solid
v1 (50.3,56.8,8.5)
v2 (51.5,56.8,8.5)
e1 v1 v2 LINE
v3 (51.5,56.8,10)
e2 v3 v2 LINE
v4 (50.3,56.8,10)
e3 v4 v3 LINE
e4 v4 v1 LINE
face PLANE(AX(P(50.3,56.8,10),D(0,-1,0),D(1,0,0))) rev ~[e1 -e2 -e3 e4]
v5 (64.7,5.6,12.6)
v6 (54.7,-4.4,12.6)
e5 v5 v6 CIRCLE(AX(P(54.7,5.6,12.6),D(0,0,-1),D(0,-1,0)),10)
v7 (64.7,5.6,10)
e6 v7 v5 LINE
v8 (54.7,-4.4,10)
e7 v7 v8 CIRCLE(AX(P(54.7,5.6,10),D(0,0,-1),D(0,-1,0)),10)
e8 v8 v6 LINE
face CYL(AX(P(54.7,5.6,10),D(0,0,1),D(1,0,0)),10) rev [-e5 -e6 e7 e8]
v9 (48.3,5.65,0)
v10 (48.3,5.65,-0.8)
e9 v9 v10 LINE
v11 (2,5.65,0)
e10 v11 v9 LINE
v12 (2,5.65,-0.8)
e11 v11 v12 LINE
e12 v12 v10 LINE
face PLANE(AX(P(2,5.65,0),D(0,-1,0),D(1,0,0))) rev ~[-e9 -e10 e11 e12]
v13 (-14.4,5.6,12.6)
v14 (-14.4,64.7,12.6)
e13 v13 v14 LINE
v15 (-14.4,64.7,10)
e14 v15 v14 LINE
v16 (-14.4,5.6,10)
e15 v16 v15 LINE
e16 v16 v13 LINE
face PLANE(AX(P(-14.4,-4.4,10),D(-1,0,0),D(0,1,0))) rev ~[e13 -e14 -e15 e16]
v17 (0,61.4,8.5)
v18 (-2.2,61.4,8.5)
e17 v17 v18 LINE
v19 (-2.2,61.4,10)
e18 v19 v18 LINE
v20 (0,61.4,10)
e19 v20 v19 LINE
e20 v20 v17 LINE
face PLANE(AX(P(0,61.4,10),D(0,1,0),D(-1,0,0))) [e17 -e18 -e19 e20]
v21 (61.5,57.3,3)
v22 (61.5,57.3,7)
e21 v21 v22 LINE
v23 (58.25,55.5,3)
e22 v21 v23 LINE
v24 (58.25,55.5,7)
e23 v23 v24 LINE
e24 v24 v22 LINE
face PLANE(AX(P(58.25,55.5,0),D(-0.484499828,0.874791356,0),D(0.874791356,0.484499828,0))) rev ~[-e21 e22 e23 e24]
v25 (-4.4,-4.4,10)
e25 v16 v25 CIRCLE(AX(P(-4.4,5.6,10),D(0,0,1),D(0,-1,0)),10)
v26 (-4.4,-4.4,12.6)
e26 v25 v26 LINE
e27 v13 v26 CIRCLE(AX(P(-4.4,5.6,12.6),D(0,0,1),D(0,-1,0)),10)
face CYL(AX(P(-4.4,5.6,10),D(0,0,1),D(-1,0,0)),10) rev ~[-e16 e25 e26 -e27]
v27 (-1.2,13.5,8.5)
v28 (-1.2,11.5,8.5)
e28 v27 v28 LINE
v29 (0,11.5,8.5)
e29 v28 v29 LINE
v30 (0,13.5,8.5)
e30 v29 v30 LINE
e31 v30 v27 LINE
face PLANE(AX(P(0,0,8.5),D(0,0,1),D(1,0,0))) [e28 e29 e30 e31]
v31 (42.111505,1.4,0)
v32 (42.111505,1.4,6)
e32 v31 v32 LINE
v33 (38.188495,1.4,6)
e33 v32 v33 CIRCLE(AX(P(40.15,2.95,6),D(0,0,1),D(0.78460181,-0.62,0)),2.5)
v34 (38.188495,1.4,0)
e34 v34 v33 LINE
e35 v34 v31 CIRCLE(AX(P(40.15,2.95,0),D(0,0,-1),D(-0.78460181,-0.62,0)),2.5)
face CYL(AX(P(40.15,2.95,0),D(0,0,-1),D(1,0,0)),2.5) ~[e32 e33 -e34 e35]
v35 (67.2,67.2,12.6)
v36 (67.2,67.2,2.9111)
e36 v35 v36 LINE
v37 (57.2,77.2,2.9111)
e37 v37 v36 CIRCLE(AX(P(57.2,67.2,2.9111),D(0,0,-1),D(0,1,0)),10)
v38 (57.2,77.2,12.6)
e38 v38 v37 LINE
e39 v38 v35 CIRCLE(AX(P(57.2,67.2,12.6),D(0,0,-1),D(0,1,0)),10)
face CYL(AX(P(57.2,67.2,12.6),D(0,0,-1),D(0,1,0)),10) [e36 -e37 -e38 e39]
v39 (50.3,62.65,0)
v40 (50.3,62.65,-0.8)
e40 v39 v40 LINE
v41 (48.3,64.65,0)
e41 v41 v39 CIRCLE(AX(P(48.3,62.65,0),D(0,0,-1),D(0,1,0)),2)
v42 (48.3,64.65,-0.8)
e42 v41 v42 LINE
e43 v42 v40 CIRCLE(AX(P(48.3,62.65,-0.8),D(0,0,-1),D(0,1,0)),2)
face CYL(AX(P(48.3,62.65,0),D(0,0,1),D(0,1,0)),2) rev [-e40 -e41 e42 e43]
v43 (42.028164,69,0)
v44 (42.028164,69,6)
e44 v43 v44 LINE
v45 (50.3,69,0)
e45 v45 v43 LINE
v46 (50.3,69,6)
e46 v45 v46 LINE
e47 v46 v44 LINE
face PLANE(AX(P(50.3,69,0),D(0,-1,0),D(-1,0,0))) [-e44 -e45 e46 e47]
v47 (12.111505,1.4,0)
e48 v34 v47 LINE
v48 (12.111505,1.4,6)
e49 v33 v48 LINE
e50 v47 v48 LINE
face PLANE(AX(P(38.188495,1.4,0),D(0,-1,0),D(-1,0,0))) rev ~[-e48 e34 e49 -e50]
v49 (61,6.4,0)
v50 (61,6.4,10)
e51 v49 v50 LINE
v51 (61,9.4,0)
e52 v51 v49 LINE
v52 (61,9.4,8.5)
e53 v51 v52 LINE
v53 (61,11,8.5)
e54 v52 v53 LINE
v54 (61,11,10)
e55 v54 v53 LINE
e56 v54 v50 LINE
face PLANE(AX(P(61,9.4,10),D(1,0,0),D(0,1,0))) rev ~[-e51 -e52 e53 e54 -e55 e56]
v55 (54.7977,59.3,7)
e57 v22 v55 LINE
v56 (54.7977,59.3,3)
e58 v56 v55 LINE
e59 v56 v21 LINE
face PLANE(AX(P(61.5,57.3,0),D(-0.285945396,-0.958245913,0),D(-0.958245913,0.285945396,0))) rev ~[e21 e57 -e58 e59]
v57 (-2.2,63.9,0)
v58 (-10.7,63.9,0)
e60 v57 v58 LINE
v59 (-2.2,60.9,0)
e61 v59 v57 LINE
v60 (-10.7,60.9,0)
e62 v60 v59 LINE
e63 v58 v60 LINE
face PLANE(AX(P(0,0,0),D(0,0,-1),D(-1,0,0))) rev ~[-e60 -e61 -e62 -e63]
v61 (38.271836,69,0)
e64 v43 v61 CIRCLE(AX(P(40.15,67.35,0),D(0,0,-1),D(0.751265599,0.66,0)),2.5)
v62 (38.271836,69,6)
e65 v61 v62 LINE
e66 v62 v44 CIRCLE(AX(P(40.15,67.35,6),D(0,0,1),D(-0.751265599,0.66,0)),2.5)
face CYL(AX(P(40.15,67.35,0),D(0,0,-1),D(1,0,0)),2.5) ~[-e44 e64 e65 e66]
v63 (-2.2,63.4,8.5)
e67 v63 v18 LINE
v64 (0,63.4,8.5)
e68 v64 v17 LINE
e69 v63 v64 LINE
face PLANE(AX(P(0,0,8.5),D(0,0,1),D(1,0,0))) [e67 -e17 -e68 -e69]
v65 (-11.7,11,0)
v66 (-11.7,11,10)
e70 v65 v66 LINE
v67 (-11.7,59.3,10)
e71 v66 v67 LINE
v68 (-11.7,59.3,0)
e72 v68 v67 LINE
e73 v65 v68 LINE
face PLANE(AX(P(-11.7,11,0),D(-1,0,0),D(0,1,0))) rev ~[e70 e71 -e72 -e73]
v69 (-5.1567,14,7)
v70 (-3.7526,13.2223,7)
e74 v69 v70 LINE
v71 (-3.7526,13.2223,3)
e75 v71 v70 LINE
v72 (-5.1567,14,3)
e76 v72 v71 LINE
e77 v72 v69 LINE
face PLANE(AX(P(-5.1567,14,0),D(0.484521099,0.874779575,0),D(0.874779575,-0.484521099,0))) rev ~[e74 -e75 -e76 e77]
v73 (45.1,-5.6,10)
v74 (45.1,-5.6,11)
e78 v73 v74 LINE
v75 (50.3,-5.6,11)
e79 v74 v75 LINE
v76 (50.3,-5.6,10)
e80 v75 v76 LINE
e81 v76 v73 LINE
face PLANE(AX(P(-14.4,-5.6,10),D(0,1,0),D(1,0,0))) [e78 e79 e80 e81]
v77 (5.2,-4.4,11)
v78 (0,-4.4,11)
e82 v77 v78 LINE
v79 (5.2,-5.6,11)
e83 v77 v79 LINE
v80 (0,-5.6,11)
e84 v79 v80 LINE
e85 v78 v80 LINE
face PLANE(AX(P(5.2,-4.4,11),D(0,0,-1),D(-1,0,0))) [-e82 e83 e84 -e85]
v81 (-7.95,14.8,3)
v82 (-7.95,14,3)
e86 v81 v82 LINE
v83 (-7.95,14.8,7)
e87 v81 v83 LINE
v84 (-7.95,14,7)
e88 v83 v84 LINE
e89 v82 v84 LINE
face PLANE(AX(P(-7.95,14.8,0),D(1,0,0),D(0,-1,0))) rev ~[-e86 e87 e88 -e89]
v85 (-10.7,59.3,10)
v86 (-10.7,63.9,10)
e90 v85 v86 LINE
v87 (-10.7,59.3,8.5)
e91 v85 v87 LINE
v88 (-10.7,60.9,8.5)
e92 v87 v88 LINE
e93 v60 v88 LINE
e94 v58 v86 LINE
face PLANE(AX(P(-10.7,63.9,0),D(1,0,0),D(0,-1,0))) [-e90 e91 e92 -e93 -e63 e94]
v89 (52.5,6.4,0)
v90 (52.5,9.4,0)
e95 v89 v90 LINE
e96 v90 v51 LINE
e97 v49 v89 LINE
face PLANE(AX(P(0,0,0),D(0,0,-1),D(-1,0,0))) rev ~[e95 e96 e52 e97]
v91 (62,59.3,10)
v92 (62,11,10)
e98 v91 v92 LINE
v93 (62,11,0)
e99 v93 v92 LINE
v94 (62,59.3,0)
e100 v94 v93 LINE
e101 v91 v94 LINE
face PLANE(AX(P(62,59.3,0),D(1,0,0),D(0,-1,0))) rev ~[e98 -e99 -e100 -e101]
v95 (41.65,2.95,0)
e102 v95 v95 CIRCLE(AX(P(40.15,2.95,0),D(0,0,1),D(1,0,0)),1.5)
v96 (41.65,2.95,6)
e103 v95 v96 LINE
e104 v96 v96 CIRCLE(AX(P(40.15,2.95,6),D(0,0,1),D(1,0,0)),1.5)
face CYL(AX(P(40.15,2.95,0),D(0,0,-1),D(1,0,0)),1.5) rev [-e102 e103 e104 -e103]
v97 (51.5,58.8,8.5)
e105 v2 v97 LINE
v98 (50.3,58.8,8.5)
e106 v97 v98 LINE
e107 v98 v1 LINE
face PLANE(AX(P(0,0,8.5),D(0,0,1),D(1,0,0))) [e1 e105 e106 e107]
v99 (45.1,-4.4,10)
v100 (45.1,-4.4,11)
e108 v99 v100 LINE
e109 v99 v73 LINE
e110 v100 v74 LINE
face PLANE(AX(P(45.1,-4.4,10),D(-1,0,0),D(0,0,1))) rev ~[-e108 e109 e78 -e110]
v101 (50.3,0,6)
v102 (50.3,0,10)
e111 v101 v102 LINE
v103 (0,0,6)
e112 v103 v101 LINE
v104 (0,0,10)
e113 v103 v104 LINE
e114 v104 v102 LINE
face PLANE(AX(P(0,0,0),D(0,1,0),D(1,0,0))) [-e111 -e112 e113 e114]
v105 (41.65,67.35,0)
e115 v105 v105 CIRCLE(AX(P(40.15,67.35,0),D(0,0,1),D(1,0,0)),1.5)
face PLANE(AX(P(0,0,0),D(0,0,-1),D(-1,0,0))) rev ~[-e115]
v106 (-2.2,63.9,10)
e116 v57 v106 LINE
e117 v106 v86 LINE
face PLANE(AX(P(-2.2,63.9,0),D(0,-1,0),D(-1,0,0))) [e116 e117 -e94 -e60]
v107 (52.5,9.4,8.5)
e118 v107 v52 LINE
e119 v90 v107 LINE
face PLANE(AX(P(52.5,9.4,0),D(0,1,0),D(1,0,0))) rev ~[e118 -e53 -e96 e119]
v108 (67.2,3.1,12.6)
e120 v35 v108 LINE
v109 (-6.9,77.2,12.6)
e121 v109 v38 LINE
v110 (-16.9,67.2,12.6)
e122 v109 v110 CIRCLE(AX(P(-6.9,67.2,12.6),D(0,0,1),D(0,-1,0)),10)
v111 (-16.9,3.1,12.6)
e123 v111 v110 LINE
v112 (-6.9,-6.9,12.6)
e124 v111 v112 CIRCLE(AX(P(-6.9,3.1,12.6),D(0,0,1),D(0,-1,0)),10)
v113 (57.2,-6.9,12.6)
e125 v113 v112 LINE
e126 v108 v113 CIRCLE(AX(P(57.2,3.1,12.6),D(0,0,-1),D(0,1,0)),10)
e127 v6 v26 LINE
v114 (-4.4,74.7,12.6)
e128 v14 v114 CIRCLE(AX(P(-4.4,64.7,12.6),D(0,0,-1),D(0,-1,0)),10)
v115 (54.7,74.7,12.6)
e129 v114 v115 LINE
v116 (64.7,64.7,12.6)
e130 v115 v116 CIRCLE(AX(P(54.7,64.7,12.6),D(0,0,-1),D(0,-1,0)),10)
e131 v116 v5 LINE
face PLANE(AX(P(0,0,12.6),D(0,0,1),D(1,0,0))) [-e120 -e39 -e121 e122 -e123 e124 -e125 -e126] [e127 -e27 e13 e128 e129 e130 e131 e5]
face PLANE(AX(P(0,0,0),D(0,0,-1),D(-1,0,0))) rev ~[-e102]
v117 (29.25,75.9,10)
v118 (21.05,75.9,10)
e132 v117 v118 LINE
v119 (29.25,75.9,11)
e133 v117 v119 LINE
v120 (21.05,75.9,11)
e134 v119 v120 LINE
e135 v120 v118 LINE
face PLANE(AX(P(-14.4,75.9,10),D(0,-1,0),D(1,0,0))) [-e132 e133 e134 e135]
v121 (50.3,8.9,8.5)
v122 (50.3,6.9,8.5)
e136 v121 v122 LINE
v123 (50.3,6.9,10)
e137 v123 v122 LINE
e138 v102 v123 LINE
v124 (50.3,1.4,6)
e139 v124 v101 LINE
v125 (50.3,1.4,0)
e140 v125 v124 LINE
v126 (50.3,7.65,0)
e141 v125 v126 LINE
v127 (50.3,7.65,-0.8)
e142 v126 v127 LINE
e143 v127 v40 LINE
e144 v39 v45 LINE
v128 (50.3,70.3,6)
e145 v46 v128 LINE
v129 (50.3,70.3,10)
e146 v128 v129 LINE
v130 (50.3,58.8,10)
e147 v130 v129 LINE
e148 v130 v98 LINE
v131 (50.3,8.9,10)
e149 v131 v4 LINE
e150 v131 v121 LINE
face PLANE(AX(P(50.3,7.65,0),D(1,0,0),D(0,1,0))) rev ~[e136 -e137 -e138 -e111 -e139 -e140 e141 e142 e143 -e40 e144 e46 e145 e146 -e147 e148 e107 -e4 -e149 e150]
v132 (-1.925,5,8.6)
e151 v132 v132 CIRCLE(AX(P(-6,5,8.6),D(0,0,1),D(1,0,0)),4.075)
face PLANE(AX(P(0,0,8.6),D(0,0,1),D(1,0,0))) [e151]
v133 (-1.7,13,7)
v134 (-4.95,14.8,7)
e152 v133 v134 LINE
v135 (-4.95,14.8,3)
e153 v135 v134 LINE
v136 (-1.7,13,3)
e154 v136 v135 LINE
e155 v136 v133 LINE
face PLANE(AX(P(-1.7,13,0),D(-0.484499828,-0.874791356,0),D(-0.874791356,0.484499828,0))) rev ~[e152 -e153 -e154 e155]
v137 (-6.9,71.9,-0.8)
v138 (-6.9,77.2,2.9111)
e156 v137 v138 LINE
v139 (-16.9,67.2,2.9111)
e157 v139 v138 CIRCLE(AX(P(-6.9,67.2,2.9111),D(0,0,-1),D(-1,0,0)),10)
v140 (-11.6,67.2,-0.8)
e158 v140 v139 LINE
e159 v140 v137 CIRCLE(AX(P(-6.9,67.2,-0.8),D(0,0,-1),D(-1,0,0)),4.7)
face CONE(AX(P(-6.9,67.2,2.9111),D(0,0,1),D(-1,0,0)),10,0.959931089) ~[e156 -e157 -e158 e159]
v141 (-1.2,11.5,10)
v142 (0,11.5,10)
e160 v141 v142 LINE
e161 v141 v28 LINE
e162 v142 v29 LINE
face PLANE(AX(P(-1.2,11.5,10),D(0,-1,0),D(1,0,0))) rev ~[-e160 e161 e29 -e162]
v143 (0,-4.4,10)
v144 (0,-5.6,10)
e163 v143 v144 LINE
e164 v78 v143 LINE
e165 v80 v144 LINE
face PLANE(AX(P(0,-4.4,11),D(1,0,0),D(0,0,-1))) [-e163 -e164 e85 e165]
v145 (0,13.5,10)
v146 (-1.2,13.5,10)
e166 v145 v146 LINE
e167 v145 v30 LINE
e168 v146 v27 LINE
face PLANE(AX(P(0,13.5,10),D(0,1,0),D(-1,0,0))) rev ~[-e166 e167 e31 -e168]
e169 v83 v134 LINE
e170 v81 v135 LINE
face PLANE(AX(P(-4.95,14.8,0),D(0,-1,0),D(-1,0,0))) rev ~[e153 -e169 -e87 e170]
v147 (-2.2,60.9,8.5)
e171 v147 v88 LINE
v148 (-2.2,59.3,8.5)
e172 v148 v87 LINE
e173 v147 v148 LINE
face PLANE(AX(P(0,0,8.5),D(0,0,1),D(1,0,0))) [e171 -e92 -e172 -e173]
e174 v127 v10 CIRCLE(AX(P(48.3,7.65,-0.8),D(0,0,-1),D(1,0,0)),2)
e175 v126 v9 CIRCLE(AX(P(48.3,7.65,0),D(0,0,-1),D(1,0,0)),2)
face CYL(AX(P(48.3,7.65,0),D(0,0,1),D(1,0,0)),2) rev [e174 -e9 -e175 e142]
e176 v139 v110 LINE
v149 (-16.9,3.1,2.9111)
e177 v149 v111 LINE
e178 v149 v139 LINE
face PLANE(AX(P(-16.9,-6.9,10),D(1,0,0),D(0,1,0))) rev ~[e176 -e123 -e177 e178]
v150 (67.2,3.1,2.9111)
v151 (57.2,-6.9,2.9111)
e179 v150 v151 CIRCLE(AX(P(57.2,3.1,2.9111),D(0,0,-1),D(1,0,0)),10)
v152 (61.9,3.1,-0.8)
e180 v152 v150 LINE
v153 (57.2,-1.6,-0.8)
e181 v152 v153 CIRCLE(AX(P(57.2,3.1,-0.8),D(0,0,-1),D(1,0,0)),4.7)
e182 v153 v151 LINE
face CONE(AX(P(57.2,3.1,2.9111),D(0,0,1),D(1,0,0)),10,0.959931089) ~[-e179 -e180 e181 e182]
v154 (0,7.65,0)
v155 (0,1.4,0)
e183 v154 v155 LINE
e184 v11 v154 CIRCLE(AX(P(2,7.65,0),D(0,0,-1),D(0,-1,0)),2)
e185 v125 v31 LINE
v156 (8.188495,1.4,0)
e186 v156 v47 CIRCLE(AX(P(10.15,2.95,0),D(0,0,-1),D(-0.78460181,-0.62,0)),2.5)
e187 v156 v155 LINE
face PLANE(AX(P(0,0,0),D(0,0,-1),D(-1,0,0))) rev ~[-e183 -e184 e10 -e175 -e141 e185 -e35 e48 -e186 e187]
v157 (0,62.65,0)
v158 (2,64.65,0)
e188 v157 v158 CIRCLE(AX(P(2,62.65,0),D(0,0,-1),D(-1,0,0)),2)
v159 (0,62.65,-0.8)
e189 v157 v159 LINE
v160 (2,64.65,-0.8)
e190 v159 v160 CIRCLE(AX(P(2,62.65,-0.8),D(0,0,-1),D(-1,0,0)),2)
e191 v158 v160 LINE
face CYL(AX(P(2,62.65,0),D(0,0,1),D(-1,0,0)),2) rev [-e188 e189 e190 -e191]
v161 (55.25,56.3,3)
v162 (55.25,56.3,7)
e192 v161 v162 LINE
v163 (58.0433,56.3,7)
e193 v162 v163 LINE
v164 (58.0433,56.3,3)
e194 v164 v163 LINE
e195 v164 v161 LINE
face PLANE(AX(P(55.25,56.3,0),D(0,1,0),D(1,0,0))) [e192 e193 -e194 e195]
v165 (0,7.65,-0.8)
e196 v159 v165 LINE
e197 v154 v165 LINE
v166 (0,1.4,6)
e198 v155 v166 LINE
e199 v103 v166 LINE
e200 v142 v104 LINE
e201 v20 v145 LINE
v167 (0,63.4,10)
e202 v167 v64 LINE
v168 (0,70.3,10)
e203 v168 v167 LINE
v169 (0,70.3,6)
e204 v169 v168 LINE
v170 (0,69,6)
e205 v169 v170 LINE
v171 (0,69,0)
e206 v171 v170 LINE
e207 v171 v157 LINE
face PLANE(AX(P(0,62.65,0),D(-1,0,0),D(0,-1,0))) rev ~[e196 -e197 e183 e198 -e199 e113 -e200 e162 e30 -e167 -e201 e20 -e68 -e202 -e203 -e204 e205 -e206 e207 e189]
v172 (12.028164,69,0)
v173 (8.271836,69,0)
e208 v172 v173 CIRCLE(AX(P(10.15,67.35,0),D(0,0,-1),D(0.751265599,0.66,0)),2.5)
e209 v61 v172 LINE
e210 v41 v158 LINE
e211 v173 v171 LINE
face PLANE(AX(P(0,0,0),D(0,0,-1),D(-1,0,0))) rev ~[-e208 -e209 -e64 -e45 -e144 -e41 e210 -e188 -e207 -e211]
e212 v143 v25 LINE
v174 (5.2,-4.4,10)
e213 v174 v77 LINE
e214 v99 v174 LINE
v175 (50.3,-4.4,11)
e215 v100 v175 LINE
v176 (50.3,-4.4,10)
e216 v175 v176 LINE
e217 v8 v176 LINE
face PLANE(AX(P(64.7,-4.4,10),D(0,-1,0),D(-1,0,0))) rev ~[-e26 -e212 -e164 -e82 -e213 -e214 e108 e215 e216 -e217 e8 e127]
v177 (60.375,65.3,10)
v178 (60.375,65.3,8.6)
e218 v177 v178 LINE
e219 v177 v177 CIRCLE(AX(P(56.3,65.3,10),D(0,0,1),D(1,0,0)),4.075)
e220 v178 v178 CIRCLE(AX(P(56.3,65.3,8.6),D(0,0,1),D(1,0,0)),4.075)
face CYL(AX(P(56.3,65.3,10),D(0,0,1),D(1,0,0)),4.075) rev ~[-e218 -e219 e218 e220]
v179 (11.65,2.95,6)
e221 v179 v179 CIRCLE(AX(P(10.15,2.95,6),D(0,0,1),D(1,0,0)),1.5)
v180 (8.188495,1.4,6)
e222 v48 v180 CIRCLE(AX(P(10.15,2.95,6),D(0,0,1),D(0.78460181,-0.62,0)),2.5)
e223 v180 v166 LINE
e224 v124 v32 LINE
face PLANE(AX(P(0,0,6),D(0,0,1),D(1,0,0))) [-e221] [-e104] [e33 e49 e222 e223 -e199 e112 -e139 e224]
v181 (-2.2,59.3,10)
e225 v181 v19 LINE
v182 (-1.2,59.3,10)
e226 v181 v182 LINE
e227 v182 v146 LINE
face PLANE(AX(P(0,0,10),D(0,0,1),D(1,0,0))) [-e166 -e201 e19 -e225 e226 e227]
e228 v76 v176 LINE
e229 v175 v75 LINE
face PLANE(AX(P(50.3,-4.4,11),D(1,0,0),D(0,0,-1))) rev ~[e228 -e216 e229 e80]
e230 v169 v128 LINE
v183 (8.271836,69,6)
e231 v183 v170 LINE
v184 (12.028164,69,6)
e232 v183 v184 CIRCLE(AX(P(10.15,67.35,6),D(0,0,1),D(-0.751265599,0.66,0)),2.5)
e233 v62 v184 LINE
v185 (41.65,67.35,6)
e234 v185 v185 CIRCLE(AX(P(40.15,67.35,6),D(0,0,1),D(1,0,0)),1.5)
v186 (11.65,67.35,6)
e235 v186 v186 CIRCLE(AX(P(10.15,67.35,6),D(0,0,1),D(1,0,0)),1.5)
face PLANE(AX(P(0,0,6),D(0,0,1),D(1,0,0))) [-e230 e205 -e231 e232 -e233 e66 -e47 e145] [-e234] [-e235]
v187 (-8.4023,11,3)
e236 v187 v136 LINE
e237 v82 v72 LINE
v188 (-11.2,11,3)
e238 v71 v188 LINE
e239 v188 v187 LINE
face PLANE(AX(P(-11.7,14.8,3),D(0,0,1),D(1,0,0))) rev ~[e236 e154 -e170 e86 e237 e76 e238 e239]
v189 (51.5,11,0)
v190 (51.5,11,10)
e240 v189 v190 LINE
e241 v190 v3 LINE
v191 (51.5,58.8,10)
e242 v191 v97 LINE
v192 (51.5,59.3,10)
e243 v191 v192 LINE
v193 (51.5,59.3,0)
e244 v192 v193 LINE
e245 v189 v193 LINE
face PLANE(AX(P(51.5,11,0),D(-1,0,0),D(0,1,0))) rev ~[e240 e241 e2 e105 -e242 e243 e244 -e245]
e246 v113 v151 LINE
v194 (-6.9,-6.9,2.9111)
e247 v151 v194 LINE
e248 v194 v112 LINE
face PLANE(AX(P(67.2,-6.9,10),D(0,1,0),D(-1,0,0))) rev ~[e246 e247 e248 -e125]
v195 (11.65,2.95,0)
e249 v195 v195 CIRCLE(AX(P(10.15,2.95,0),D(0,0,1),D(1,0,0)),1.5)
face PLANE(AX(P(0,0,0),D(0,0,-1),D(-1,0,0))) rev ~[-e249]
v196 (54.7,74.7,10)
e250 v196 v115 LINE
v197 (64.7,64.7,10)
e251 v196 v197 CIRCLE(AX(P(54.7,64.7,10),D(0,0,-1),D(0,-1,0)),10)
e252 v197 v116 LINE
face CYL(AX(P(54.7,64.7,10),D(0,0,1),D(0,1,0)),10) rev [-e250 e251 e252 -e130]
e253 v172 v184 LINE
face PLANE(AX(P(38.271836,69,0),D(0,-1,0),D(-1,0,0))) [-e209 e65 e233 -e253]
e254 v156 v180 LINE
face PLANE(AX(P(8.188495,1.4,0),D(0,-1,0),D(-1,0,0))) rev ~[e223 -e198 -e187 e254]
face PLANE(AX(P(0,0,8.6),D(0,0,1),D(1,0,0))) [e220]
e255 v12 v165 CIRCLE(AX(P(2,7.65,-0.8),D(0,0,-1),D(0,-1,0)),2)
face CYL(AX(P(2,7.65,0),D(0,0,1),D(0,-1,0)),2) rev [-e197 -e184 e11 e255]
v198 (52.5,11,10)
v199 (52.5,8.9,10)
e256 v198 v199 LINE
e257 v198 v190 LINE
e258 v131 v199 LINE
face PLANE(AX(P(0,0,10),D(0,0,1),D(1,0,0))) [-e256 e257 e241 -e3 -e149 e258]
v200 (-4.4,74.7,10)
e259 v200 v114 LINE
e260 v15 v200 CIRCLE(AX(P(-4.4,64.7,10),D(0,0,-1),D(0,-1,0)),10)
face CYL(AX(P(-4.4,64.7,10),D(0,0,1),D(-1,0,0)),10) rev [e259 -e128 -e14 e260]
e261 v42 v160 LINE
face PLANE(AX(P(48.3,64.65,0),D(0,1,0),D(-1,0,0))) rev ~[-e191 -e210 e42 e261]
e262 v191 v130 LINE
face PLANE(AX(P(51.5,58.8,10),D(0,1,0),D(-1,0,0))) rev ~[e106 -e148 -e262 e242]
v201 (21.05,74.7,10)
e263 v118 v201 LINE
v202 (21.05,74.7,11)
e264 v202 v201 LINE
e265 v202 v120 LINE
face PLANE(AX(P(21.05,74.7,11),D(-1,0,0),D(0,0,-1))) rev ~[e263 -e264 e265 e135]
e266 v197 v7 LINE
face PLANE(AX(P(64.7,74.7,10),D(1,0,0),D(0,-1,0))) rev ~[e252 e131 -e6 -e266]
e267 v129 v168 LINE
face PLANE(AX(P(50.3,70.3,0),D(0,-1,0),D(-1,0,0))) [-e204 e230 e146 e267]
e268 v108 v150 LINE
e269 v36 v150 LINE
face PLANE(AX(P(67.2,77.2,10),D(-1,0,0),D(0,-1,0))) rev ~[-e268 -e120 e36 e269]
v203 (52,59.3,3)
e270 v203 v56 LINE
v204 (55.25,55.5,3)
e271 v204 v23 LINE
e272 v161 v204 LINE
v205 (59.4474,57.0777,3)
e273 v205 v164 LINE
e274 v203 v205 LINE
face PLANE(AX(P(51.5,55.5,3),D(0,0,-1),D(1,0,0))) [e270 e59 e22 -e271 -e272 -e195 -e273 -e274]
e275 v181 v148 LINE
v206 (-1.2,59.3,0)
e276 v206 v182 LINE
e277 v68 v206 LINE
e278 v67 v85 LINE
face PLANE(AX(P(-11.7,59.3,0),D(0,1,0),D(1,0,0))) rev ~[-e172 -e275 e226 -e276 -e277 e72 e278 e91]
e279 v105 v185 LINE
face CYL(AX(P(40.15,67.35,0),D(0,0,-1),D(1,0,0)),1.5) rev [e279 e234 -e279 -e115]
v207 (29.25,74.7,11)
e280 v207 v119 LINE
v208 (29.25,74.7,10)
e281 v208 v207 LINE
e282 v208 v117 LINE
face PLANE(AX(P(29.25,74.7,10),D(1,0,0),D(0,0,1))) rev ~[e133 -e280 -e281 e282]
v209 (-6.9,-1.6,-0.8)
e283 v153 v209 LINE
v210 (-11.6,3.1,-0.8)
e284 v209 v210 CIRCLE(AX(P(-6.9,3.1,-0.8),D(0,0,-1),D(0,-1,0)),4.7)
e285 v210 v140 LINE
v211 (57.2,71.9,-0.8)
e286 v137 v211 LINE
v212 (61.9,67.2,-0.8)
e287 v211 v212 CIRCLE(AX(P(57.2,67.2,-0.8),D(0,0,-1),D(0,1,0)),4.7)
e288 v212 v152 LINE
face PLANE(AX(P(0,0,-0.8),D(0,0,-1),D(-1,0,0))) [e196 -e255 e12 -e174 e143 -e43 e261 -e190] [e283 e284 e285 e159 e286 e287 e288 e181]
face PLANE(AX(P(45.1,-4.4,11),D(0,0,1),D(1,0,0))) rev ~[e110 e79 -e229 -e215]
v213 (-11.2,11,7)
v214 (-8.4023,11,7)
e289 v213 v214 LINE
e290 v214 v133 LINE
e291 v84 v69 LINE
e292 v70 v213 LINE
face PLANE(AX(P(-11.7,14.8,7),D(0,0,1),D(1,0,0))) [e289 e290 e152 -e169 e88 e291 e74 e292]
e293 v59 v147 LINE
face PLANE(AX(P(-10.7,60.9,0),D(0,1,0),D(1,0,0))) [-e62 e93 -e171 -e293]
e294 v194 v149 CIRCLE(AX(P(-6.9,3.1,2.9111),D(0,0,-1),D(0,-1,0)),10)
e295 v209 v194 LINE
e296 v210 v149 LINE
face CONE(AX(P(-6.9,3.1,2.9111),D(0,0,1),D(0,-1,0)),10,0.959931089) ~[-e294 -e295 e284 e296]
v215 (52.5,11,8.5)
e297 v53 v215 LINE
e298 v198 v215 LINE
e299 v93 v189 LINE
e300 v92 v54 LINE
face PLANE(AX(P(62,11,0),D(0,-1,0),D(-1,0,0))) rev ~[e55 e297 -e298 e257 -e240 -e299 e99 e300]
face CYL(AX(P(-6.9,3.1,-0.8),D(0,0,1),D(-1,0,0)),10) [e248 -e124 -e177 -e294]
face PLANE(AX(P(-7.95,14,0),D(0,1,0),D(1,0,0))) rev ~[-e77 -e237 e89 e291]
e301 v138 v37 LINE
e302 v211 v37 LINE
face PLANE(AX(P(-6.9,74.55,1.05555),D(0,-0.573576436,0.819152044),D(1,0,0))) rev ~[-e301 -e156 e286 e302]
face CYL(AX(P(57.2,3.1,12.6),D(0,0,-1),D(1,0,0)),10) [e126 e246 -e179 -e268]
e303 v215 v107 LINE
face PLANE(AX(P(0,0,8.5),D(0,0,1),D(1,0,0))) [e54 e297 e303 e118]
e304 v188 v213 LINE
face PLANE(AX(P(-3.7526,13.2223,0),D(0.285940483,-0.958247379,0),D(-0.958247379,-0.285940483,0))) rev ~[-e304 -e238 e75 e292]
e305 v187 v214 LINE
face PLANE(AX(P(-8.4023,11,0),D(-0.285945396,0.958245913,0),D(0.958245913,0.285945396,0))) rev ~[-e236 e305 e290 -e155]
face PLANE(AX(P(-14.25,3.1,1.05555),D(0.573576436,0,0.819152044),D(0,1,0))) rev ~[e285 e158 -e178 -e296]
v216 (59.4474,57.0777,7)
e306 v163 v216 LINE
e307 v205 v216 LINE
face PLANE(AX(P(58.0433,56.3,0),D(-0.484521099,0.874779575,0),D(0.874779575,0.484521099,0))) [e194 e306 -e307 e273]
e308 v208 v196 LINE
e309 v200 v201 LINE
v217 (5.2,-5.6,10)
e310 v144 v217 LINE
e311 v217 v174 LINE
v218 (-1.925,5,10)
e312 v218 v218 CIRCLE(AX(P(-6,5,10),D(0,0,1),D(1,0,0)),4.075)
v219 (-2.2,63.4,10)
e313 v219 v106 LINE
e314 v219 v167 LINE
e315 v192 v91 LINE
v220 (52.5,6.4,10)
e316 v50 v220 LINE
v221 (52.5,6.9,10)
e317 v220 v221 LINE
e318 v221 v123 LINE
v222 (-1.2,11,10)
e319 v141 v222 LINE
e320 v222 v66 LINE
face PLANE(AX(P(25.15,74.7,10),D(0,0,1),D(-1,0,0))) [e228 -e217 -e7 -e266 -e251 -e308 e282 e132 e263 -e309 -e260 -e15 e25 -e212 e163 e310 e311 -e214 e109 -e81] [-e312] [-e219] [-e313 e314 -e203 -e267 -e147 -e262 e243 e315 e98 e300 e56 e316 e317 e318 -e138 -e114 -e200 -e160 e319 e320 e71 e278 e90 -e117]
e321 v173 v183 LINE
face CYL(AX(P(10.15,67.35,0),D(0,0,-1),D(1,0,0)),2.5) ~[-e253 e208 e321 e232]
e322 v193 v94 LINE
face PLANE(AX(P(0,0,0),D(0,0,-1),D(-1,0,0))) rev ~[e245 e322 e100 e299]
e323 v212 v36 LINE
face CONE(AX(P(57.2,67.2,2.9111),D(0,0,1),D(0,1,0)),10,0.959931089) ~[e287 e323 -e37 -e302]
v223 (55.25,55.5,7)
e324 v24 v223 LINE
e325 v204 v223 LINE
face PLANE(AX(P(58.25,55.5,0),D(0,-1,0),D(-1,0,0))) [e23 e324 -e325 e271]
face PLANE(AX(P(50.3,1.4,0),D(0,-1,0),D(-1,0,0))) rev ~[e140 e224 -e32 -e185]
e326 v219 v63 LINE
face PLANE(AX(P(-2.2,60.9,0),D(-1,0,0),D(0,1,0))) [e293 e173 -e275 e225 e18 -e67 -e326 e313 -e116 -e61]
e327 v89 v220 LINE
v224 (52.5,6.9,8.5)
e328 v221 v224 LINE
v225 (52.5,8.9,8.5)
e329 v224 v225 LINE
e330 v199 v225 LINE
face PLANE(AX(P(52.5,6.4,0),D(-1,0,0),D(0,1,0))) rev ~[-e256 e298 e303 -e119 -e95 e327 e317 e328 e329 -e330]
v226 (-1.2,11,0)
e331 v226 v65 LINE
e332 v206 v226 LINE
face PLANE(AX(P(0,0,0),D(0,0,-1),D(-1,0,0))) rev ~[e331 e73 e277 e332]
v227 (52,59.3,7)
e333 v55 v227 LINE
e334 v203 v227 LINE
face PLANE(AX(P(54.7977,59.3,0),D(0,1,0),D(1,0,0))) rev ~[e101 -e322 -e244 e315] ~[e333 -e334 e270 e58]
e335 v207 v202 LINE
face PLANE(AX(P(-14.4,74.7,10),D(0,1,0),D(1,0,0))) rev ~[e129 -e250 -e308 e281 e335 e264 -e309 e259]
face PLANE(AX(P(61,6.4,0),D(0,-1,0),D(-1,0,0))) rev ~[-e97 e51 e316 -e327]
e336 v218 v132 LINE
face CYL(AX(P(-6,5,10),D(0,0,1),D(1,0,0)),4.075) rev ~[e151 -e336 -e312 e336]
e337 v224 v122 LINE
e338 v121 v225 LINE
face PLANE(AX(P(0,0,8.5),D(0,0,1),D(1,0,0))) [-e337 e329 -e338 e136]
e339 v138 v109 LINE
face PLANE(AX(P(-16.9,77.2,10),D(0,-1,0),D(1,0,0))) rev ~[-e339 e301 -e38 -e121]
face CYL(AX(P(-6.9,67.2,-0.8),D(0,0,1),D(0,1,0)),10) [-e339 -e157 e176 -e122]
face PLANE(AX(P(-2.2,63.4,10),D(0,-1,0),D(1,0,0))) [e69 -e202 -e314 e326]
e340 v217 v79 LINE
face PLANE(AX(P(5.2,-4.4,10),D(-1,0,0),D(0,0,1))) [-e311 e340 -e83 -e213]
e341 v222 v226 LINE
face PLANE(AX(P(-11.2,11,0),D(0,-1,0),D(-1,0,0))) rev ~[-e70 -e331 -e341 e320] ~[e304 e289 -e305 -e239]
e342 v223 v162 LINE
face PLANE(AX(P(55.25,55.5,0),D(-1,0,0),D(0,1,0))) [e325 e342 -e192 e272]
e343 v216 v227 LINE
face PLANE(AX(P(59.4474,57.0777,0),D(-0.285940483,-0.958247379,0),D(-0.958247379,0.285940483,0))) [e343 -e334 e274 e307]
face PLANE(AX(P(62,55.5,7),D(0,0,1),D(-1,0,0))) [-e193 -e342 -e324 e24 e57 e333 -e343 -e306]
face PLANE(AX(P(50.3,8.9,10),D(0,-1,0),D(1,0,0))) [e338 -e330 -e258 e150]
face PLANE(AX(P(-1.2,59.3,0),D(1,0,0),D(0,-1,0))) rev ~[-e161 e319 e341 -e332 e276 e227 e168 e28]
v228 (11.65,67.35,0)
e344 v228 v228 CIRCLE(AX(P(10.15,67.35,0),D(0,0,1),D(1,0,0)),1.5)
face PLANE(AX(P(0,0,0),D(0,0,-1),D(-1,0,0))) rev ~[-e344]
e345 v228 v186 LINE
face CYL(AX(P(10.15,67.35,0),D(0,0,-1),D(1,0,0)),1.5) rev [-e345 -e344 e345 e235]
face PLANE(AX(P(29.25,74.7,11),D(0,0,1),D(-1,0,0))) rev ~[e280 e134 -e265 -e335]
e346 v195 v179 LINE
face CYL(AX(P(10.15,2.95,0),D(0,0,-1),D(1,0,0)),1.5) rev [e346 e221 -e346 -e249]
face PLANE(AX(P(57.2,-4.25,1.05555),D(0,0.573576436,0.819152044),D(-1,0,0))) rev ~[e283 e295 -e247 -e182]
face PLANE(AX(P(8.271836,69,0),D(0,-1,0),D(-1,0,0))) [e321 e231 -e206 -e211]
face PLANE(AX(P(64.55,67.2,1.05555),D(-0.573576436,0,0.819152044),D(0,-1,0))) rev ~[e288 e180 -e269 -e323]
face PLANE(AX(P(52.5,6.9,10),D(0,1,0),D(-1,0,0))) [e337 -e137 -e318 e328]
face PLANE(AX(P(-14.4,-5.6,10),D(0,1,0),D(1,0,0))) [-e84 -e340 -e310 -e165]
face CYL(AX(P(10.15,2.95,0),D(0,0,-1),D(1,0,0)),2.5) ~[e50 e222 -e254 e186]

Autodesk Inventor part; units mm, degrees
ref_plane "YZ Plane" through (0, 0, 0) normal (1, 0, 0) x (0, 1, 0)
ref_plane "XZ Plane" through (0, 0, 0) normal (0, 1, 0) x (-1, 0, 0)
ref_plane "XY Plane" through (0, 0, 0) normal (0, 0, 1) x (1, 0, 0)
sketch "Skizze1" plane through (0, 0, 0) normal (0, 0, 1) x (1, 0, 0)
  line L0 (0, 0) -> (50.3, 0)
  line L1 (50.3, 0) -> (50.3, 70.3)
  line L2 (50.3, 70.3) -> (0, 70.3)
  line L3 (0, 70.3) -> (0, 0)
  line L4 (-15, 75.3) -> (65.3, 75.3)
  line L5 (65.3, 75.3) -> (65.3, -5)
  line L6 (65.3, -5) -> (-15, -5)
  line L7 (-15, -5) -> (-15, 75.3)
  line L8 (-11.7, 59.3) -> (-1.2, 59.3)
  line L9 (-1.2, 59.3) -> (-1.2, 11)
  line L10 (-1.2, 11) -> (-11.7, 11)
  line L11 (-11.7, 11) -> (-11.7, 59.3)
  line L12 (51.5, 59.3) -> (62, 59.3)
  line L13 (62, 59.3) -> (62, 11)
  line L14 (62, 11) -> (51.5, 11)
  line L15 (51.5, 11) -> (51.5, 59.3)
  line L16 (-6.45, 59.3) -> (-6.45, 75.3) construction
  line L17 (-6.45, 11) -> (-6.45, -5) construction
  line L18 (56.75, 59.3) -> (56.75, 75.3) construction
  line L19 (56.75, 11) -> (56.75, -5) construction
  line L20 (-11.7, 35.15) -> (-15, 35.15) construction
  line L21 (62, 35.15) -> (65.3, 35.15) construction
  line L22 (-8.4023, 11) -> (-1.7, 13)
  line L23 (-1.7, 13) -> (-4.95, 14.8)
  line L24 (-4.95, 14.8) -> (-7.95, 14.8)
  line L25 (-7.95, 14.8) -> (-7.95, 14)
  line L26 (-7.95, 14) -> (-5.1567, 14)
  line L27 (-5.1567, 14) -> (-3.7526, 13.2223)
  line L28 (-3.7526, 13.2223) -> (-11.2, 11)
  line L29 (58.25, 55.5) -> (55.25, 55.5)
  line L30 (55.25, 55.5) -> (55.25, 56.3)
  line L31 (55.25, 56.3) -> (58.0433, 56.3)
  line L32 (61.5, 57.3) -> (54.7977, 59.3)
  line L33 (59.4474, 57.0777) -> (52, 59.3)
  line L34 (58.0433, 56.3) -> (59.4474, 57.0777)
  line L35 (58.25, 55.5) -> (61.5, 57.3)
  line L36 (-10.7, 60.9) -> (-2.2, 60.9)
  line L37 (-2.2, 60.9) -> (-2.2, 63.9)
  line L38 (-2.2, 63.9) -> (-10.7, 63.9)
  line L39 (-10.7, 63.9) -> (-10.7, 60.9)
  line L40 (61, 6.4) -> (52.5, 6.4)
  line L41 (52.5, 6.4) -> (52.5, 9.4)
  line L42 (52.5, 9.4) -> (61, 9.4)
  line L43 (61, 9.4) -> (61, 6.4)
  dimension "d0" = 50.3
  dimension "d1" = 70.3
  dimension "d2" = 5
  dimension "d3" = 5
  dimension "d4" = 10.5
  dimension "d5" = 10.5
  dimension "d6" = 48.3
  dimension "d7" = 48.3
  dimension "d8" = 1.2
  dimension "d9" = 1.2
  dimension "d11" = 0.8
  dimension "d12" = 0.8
  dimension "d13" = 0.8
  dimension "d14" = 3
  dimension "d15" = 3.75
  dimension "d16" = 2
  dimension "d17" = 3
  dimension "d18" = 0.5
  dimension "d19" = 0.5
  dimension "d20" = 0.8
  dimension "d22" = 0.5
  dimension "d23" = 3
  dimension "d26" = 3.75
  dimension "d27" = 2
  dimension "d28" = 0.5
  dimension "d30" = 3
  dimension "d31" = 0.8
  dimension "d32" = 0.8
  dimension "d33" = 1.6
  dimension "d34" = 1
  dimension "d35" = 1
  dimension "d36" = 3
  dimension "d37" = 3
  dimension "d38" = 1
  dimension "d39" = 1
  dimension "d40" = 1.6
extrude "Extrusion1" add sketch "Skizze1" along normal blind 10 contours L4 L5 L6 L7 | L28 L27 L26 L25 L24 L23 L22 L10 | L12 L32 L35 L29 L30 L31 L34 L33
sketch "Skizze2" plane through (0, 0, 0) normal (0, 0, -1) x (-1, 0, 0)
  line L0 (-65.3, 75.3) -> (15, 75.3) projected
  line L1 (15, 75.3) -> (15, -5) projected
  line L2 (-65.3, 75.3) -> (15, 75.3)
  line L3 (15, 75.3) -> (15, -5)
  line L4 (15, -5) -> (-65.3, -5)
  line L5 (-65.3, -5) -> (-65.3, 75.3)
  line L6 (0, 70.3) -> (0, 0) projected
  line L7 (-48.3, 64.65) -> (-2, 64.65)
  line L8 (0, 62.65) -> (0, 7.65)
  line L9 (-2, 5.65) -> (-48.3, 5.65)
  line L10 (-50.3, 7.65) -> (-50.3, 62.65)
  line L11 (-50.3, 70.3) -> (0, 70.3) projected
  line L12 (-50.3, 0) -> (-50.3, 70.3) construction
  arc A0 (-48.3, 64.65) -> (-50.3, 62.65) centre (-48.3, 62.65) ccw
  arc A1 (0, 62.65) -> (-2, 64.65) centre (-2, 62.65) ccw
  arc A2 (-50.3, 7.65) -> (-48.3, 5.65) centre (-48.3, 7.65) ccw
  arc A3 (-2, 5.65) -> (0, 7.65) centre (-2, 7.65) ccw
  line L13 (15, 35.15) -> (-65.3, 35.15) construction
  line L14 (-65.3, -5) -> (-65.3, 75.3) construction
  line L15 (-50.3, 0) -> (0, 0) construction
  point P0 (-50.3, 64.65)
  point P1 (0, 5.65)
  dimension "d44" = 59
  dimension "d45" = 2
  dimension "d147" = 29.5
extrude "Extrusion2" add sketch "Skizze2" along normal blind 0.8
sketch "Skizze7" plane through (0, 0, 10) normal (0, 0, 1) x (1, 0, 0)
  circle A0 centre (-6, 5) radius 4.075
  circle A1 centre (56.3, 65.3) radius 4.075
  line L0 (0, 0) -> (0, 70.3) projected
  line L1 (-1.2, 11) -> (-8.4023, 11) projected
  line L2 (50.3, 70.3) -> (50.3, 0) projected
  line L3 (54.7977, 59.3) -> (62, 59.3) projected
  dimension "d80" = 8.15
  dimension "d81" = 8.15
  dimension "d82" = 6
  dimension "d83" = 6
  dimension "d84" = 6
  dimension "d85" = 6
extrude "Extrusion7" cut sketch "Skizze7" against normal blind 1.4
sketch "Skizze8" plane through (55.25, 55.5, 10) normal (0, -1, 0) x (1, 0, 0)
  line L0 (-3.75, -10) -> (-3.75, 0) projected
  line L1 (6.75, -10) -> (-3.75, -10)
  line L2 (-3.75, -10) -> (-3.75, -7)
  line L3 (-3.75, -7) -> (6.75, -7)
  line L4 (6.75, -7) -> (6.75, -10)
  line L5 (-3.75, 0) -> (6.75, 0)
  line L6 (6.75, 0) -> (6.75, -3)
  line L7 (6.75, -3) -> (-3.75, -3)
  line L8 (-3.75, -3) -> (-3.75, 0)
  point P0 (-55.25, -10)
  dimension "d88" = 3
  dimension "d89" = 3
extrude "Extrusion8" cut sketch "Skizze8" against normal blind 3.8
sketch "Skizze9" plane through (-7.95, 14.8, 10) normal (0, 1, 0) x (1, 0, 0)
  line L0 (-3.75, 10) -> (-3.75, 0) projected
  line L1 (6.75, 10) -> (-3.75, 10)
  line L2 (-3.75, 10) -> (-3.75, 7)
  line L3 (-3.75, 7) -> (6.75, 7)
  line L4 (6.75, 7) -> (6.75, 10)
  line L5 (6.75, 0) -> (-3.75, 0)
  line L6 (-3.75, 0) -> (-3.75, 3)
  line L7 (-3.75, 3) -> (6.75, 3)
  line L8 (6.75, 3) -> (6.75, 0)
  point P0 (7.95, 10)
  dimension "d92" = 3
  dimension "d93" = 3
extrude "Extrusion9" cut sketch "Skizze9" against normal blind 3.8
sketch "Skizze10" plane through (0, 0, 10) normal (0, 0, 1) x (1, 0, 0)
  line L0 (52.5, 9.4) -> (61, 9.4) projected
  line L1 (62, 11) -> (51.5, 11) projected
  line L2 (52.5, 9.4) -> (61, 9.4)
  line L3 (61, 9.4) -> (61, 11)
  line L4 (61, 11) -> (52.5, 11)
  line L5 (52.5, 11) -> (52.5, 9.4)
  line L6 (52.5, 6.4) -> (52.5, 9.4) projected
  line L7 (50.3, 70.3) -> (50.3, 0) projected
  line L8 (52.5, 6.9) -> (50.3, 6.9)
  line L9 (50.3, 6.9) -> (50.3, 8.9)
  line L10 (50.3, 8.9) -> (52.5, 8.9)
  line L11 (52.5, 8.9) -> (52.5, 6.9)
  line L12 (51.5, 11) -> (51.5, 59.3) projected
  line L13 (51.5, 58.8) -> (50.3, 58.8)
  line L14 (50.3, 58.8) -> (50.3, 56.8)
  line L15 (50.3, 56.8) -> (51.5, 56.8)
  line L16 (51.5, 56.8) -> (51.5, 58.8)
  line L17 (51.5, 59.3) -> (62, 59.3) projected
  line L18 (-1.2, 59.3) -> (-1.2, 11) projected
  line L19 (-1.2, 11.5) -> (0, 11.5)
  line L20 (0, 11.5) -> (0, 13.5)
  line L21 (0, 13.5) -> (-1.2, 13.5)
  line L22 (-1.2, 13.5) -> (-1.2, 11.5)
  line L23 (-1.2, 11) -> (-11.7, 11) projected
  line L24 (0, 0) -> (0, 70.3) construction
  line L25 (-2.2, 60.9) -> (-10.7, 60.9) projected
  line L26 (-10.7, 60.9) -> (-2.2, 60.9)
  line L27 (-2.2, 60.9) -> (-2.2, 59.3)
  line L28 (-2.2, 59.3) -> (-10.7, 59.3)
  line L29 (-10.7, 59.3) -> (-10.7, 60.9)
  line L30 (-2.2, 63.9) -> (-2.2, 60.9) projected
  line L31 (-2.2, 63.4) -> (0, 63.4)
  line L32 (0, 63.4) -> (0, 61.4)
  line L33 (0, 61.4) -> (-2.2, 61.4)
  line L34 (-2.2, 61.4) -> (-2.2, 63.4)
  dimension "d96" = 8.5
  dimension "d97" = 0.5
  dimension "d98" = 0.5
  dimension "d99" = 2
  dimension "d100" = 0.5
  dimension "d101" = 2
  dimension "d102" = 0.5
  dimension "d103" = 1.6
  dimension "d104" = 8.5
  dimension "d105" = 2
  dimension "d106" = 0.5
extrude "Extrusion10" cut sketch "Skizze10" against normal blind 1.5 contours L5 L1 L3 L0 | L6 L8 L7 L10 | L15 L7 L13 L12 | L21 L20 L19 L18 | L27 L28 L29 L25 | L30 L31 L32 L33
sketch "Skizze12" plane through (0, 0, 10) normal (0, 0, 1) x (1, 0, 0)
  line L0 (-15, -5) -> (65.3, -5)
  line L1 (65.3, -5) -> (65.3, 75.3)
  line L2 (65.3, 75.3) -> (-15, 75.3)
  line L3 (-15, 75.3) -> (-15, -5)
  line L4 (-15, 75.3) -> (-15, -5) projected
  line L5 (50.3, 56.8) -> (50.3, 8.9) projected
  line L6 (48.3, 5.65) -> (2, 5.65) projected
  line L7 (2, 64.65) -> (48.3, 64.65) projected
  line L8 (0, 0) -> (0, 11.5) projected
  line L9 (-11.7, 59.3) -> (-11.7, 11) projected
  line L10 (0, 0) -> (50.3, 0) projected
  line L11 (62, 59.3) -> (62, 11) projected
  line L12 (0, 70.3) -> (50.3, 70.3) projected
  line L13 (-16.9, 77.2) -> (67.2, 77.2)
  line L14 (67.2, 77.2) -> (67.2, -6.9)
  line L15 (67.2, -6.9) -> (-16.9, -6.9)
  line L16 (-16.9, -6.9) -> (-16.9, 77.2)
  line L17 (-14.4, 74.7) -> (64.7, 74.7)
  line L18 (64.7, 74.7) -> (64.7, -4.4)
  line L19 (64.7, -4.4) -> (-14.4, -4.4)
  line L20 (-14.4, -4.4) -> (-14.4, 74.7)
  point P0 (35.15, 0)
  point P1 (45.3, 70.3)
  dimension "d124" = 1.9
  dimension "d125" = 0.6
extrude "Extrusion12" add sketch "Skizze12" along normal blind 2.6 contours L3 L2 L1 L0 | L13 L14 L15 L16
sketch "Skizze13" plane through (-14.4, -4.4, 10) normal (0, 1, 0) x (1, 0, 0)
  line L0 (64.7, 10) -> (64.7, 0) projected
  line L1 (64.7, 0) -> (59.5, 0)
  line L2 (59.5, 0) -> (59.5, -1)
  line L3 (59.5, -1) -> (64.7, -1)
  line L4 (64.7, -1) -> (64.7, 0)
  line L5 (14.4, 10) -> (14.4, 0) projected
  line L6 (14.4, 0) -> (19.6, 0)
  line L7 (19.6, 0) -> (19.6, -1)
  line L8 (19.6, -1) -> (14.4, -1)
  line L9 (14.4, -1) -> (14.4, 0)
  dimension "d126" = 5.2
  dimension "d127" = 1
  dimension "d128" = 5.2
  dimension "d129" = 1
extrude "Extrusion13" cut sketch "Skizze13" against normal blind 1.2
sketch "Skizze14" plane through (-14.4, 74.7, 10) normal (0, -1, 0) x (1, 0, 0)
  line L0 (79.1, 0) -> (0, 0) projected
  line L1 (39.55, 0) -> (43.65, 0)
  line L2 (43.65, 0) -> (43.65, 1)
  line L3 (0, 2.6) -> (79.1, 2.6) projected
  line L4 (43.65, 1) -> (35.45, 1)
  line L5 (35.45, 1) -> (35.45, 0)
  line L6 (-2.5, 0) -> (81.6, 0) projected
  line L7 (35.45, 0) -> (39.55, 0)
  point P0 (14.4, -10)
  dimension "d132" = 4.1
  dimension "d133" = 1
  dimension "d134" = 8.2
extrude "Extrusion14" cut sketch "Skizze14" against normal blind 1.2
sketch "Skizze15" plane through (0, 0, 10) normal (0, 0, -1) x (-1, 0, 0)
  line L0 (-67.2, 77.2) -> (-67.2, -6.9) projected
  line L1 (-67.2, -6.9) -> (16.9, -6.9) projected
  line L2 (16.9, -6.9) -> (16.9, 77.2) projected
  line L3 (16.9, 77.2) -> (-67.2, 77.2) projected
  line L4 (15, 75.3) -> (-65.3, 75.3) projected
  line L5 (15, 75.3) -> (15, -5) projected
  line L6 (-65.3, 75.3) -> (15, 75.3)
  line L7 (15, 75.3) -> (15, -5)
  line L8 (15, -5) -> (-65.3, -5)
  line L9 (-65.3, -5) -> (-65.3, 75.3)
  point P0 (0, 0)
extrude "Extrusion15" add sketch "Skizze15" along normal blind 10.8
fillet "Rundung1" radius 10 8 edges at (64.7, -4.4, 11.3) (-14.4, -4.4, 11.3) (64.7, 74.7, 11.3) (-14.4, 74.7, 11.3) (67.2, 77.2, 5.9) (67.2, -6.9, 5.9) (-16.9, -6.9, 5.9) (-16.9, 77.2, 5.9)
chamfer "Fase3" distance 5.3 angle 35 4 edges at (25.15, -6.9, -0.8) (67.2, 35.15, -0.8) (25.15, 77.2, -0.8) (-16.9, 35.15, -0.8) measured on face at (-11.2667, 25.9833, -0.8)
sketch "Skizze17" plane through (0, 0, 0) normal (0, 0, 1) x (1, 0, 0)
  line L0 (0, 0) -> (0, 11.5) projected
  line L1 (50.3, 6.9) -> (50.3, 0) projected
  line L2 (0, 0) -> (50.3, 0)
  line L3 (50.3, 0) -> (50.3, 1.4)
  line L4 (50.3, 1.4) -> (0, 1.4)
  line L5 (0, 1.4) -> (0, 0)
  line L6 (0, 70.3) -> (0, 62.65) projected
  line L7 (50.3, 62.65) -> (50.3, 70.3) projected
  line L8 (0, 70.3) -> (50.3, 70.3)
  line L9 (50.3, 70.3) -> (50.3, 69)
  line L10 (50.3, 69) -> (0, 69)
  line L11 (0, 69) -> (0, 70.3)
  line L12 (50.3, 2.95) -> (0, 2.95) construction
  line L13 (50.3, 67.35) -> (0, 67.35) construction
  line L14 (50.3, 0) -> (0, 0) construction
  line L15 (40.15, 0) -> (40.15, 70.3) construction
  line L16 (50.3, 70.3) -> (0, 70.3) construction
  line L17 (10.15, 0) -> (10.15, 70.3) construction
  line L18 (25.15, 0) -> (25.15, 70.3) construction
  circle A0 centre (10.15, 2.95) radius 2.5
  circle A1 centre (10.15, 2.95) radius 1.5
  circle A2 centre (40.15, 2.95) radius 2.5
  circle A3 centre (40.15, 2.95) radius 1.5
  circle A4 centre (40.15, 67.35) radius 2.5
  circle A5 centre (40.15, 67.35) radius 1.5
  circle A6 centre (10.15, 67.35) radius 2.5
  circle A7 centre (10.15, 67.35) radius 1.5
  dimension "d150" = 1.4
  dimension "d151" = 1.3
  dimension "d152" = 5
  dimension "d153" = 3
  dimension "d154" = 3
  dimension "d155" = 5
  dimension "d156" = 3
  dimension "d157" = 5
  dimension "d158" = 3
  dimension "d159" = 5
  dimension "d160" = 2.95
  dimension "d161" = 2.95
  dimension "d162" = 15
  dimension "d163" = 15
extrude "Extrusion17" add sketch "Skizze17" along normal blind 6
equation "\"d3\" = d2"
equation "\"d5\" = d4"
equation "\"d7\" = d6"
equation "\"d22\" = d21"
equation "\"d35\" = d34"
equation "\"d39\" = d38"
equation "\"d147\" = 0.5 * d44"
equation "\"d81\" = d80"
equation "\"d83\" = d82"
equation "\"d84\" = d82"
equation "\"d85\" = d84"
equation "\"d89\" = d88"
equation "\"d93\" = d92"
equation "\"d21\" = 0.5"
